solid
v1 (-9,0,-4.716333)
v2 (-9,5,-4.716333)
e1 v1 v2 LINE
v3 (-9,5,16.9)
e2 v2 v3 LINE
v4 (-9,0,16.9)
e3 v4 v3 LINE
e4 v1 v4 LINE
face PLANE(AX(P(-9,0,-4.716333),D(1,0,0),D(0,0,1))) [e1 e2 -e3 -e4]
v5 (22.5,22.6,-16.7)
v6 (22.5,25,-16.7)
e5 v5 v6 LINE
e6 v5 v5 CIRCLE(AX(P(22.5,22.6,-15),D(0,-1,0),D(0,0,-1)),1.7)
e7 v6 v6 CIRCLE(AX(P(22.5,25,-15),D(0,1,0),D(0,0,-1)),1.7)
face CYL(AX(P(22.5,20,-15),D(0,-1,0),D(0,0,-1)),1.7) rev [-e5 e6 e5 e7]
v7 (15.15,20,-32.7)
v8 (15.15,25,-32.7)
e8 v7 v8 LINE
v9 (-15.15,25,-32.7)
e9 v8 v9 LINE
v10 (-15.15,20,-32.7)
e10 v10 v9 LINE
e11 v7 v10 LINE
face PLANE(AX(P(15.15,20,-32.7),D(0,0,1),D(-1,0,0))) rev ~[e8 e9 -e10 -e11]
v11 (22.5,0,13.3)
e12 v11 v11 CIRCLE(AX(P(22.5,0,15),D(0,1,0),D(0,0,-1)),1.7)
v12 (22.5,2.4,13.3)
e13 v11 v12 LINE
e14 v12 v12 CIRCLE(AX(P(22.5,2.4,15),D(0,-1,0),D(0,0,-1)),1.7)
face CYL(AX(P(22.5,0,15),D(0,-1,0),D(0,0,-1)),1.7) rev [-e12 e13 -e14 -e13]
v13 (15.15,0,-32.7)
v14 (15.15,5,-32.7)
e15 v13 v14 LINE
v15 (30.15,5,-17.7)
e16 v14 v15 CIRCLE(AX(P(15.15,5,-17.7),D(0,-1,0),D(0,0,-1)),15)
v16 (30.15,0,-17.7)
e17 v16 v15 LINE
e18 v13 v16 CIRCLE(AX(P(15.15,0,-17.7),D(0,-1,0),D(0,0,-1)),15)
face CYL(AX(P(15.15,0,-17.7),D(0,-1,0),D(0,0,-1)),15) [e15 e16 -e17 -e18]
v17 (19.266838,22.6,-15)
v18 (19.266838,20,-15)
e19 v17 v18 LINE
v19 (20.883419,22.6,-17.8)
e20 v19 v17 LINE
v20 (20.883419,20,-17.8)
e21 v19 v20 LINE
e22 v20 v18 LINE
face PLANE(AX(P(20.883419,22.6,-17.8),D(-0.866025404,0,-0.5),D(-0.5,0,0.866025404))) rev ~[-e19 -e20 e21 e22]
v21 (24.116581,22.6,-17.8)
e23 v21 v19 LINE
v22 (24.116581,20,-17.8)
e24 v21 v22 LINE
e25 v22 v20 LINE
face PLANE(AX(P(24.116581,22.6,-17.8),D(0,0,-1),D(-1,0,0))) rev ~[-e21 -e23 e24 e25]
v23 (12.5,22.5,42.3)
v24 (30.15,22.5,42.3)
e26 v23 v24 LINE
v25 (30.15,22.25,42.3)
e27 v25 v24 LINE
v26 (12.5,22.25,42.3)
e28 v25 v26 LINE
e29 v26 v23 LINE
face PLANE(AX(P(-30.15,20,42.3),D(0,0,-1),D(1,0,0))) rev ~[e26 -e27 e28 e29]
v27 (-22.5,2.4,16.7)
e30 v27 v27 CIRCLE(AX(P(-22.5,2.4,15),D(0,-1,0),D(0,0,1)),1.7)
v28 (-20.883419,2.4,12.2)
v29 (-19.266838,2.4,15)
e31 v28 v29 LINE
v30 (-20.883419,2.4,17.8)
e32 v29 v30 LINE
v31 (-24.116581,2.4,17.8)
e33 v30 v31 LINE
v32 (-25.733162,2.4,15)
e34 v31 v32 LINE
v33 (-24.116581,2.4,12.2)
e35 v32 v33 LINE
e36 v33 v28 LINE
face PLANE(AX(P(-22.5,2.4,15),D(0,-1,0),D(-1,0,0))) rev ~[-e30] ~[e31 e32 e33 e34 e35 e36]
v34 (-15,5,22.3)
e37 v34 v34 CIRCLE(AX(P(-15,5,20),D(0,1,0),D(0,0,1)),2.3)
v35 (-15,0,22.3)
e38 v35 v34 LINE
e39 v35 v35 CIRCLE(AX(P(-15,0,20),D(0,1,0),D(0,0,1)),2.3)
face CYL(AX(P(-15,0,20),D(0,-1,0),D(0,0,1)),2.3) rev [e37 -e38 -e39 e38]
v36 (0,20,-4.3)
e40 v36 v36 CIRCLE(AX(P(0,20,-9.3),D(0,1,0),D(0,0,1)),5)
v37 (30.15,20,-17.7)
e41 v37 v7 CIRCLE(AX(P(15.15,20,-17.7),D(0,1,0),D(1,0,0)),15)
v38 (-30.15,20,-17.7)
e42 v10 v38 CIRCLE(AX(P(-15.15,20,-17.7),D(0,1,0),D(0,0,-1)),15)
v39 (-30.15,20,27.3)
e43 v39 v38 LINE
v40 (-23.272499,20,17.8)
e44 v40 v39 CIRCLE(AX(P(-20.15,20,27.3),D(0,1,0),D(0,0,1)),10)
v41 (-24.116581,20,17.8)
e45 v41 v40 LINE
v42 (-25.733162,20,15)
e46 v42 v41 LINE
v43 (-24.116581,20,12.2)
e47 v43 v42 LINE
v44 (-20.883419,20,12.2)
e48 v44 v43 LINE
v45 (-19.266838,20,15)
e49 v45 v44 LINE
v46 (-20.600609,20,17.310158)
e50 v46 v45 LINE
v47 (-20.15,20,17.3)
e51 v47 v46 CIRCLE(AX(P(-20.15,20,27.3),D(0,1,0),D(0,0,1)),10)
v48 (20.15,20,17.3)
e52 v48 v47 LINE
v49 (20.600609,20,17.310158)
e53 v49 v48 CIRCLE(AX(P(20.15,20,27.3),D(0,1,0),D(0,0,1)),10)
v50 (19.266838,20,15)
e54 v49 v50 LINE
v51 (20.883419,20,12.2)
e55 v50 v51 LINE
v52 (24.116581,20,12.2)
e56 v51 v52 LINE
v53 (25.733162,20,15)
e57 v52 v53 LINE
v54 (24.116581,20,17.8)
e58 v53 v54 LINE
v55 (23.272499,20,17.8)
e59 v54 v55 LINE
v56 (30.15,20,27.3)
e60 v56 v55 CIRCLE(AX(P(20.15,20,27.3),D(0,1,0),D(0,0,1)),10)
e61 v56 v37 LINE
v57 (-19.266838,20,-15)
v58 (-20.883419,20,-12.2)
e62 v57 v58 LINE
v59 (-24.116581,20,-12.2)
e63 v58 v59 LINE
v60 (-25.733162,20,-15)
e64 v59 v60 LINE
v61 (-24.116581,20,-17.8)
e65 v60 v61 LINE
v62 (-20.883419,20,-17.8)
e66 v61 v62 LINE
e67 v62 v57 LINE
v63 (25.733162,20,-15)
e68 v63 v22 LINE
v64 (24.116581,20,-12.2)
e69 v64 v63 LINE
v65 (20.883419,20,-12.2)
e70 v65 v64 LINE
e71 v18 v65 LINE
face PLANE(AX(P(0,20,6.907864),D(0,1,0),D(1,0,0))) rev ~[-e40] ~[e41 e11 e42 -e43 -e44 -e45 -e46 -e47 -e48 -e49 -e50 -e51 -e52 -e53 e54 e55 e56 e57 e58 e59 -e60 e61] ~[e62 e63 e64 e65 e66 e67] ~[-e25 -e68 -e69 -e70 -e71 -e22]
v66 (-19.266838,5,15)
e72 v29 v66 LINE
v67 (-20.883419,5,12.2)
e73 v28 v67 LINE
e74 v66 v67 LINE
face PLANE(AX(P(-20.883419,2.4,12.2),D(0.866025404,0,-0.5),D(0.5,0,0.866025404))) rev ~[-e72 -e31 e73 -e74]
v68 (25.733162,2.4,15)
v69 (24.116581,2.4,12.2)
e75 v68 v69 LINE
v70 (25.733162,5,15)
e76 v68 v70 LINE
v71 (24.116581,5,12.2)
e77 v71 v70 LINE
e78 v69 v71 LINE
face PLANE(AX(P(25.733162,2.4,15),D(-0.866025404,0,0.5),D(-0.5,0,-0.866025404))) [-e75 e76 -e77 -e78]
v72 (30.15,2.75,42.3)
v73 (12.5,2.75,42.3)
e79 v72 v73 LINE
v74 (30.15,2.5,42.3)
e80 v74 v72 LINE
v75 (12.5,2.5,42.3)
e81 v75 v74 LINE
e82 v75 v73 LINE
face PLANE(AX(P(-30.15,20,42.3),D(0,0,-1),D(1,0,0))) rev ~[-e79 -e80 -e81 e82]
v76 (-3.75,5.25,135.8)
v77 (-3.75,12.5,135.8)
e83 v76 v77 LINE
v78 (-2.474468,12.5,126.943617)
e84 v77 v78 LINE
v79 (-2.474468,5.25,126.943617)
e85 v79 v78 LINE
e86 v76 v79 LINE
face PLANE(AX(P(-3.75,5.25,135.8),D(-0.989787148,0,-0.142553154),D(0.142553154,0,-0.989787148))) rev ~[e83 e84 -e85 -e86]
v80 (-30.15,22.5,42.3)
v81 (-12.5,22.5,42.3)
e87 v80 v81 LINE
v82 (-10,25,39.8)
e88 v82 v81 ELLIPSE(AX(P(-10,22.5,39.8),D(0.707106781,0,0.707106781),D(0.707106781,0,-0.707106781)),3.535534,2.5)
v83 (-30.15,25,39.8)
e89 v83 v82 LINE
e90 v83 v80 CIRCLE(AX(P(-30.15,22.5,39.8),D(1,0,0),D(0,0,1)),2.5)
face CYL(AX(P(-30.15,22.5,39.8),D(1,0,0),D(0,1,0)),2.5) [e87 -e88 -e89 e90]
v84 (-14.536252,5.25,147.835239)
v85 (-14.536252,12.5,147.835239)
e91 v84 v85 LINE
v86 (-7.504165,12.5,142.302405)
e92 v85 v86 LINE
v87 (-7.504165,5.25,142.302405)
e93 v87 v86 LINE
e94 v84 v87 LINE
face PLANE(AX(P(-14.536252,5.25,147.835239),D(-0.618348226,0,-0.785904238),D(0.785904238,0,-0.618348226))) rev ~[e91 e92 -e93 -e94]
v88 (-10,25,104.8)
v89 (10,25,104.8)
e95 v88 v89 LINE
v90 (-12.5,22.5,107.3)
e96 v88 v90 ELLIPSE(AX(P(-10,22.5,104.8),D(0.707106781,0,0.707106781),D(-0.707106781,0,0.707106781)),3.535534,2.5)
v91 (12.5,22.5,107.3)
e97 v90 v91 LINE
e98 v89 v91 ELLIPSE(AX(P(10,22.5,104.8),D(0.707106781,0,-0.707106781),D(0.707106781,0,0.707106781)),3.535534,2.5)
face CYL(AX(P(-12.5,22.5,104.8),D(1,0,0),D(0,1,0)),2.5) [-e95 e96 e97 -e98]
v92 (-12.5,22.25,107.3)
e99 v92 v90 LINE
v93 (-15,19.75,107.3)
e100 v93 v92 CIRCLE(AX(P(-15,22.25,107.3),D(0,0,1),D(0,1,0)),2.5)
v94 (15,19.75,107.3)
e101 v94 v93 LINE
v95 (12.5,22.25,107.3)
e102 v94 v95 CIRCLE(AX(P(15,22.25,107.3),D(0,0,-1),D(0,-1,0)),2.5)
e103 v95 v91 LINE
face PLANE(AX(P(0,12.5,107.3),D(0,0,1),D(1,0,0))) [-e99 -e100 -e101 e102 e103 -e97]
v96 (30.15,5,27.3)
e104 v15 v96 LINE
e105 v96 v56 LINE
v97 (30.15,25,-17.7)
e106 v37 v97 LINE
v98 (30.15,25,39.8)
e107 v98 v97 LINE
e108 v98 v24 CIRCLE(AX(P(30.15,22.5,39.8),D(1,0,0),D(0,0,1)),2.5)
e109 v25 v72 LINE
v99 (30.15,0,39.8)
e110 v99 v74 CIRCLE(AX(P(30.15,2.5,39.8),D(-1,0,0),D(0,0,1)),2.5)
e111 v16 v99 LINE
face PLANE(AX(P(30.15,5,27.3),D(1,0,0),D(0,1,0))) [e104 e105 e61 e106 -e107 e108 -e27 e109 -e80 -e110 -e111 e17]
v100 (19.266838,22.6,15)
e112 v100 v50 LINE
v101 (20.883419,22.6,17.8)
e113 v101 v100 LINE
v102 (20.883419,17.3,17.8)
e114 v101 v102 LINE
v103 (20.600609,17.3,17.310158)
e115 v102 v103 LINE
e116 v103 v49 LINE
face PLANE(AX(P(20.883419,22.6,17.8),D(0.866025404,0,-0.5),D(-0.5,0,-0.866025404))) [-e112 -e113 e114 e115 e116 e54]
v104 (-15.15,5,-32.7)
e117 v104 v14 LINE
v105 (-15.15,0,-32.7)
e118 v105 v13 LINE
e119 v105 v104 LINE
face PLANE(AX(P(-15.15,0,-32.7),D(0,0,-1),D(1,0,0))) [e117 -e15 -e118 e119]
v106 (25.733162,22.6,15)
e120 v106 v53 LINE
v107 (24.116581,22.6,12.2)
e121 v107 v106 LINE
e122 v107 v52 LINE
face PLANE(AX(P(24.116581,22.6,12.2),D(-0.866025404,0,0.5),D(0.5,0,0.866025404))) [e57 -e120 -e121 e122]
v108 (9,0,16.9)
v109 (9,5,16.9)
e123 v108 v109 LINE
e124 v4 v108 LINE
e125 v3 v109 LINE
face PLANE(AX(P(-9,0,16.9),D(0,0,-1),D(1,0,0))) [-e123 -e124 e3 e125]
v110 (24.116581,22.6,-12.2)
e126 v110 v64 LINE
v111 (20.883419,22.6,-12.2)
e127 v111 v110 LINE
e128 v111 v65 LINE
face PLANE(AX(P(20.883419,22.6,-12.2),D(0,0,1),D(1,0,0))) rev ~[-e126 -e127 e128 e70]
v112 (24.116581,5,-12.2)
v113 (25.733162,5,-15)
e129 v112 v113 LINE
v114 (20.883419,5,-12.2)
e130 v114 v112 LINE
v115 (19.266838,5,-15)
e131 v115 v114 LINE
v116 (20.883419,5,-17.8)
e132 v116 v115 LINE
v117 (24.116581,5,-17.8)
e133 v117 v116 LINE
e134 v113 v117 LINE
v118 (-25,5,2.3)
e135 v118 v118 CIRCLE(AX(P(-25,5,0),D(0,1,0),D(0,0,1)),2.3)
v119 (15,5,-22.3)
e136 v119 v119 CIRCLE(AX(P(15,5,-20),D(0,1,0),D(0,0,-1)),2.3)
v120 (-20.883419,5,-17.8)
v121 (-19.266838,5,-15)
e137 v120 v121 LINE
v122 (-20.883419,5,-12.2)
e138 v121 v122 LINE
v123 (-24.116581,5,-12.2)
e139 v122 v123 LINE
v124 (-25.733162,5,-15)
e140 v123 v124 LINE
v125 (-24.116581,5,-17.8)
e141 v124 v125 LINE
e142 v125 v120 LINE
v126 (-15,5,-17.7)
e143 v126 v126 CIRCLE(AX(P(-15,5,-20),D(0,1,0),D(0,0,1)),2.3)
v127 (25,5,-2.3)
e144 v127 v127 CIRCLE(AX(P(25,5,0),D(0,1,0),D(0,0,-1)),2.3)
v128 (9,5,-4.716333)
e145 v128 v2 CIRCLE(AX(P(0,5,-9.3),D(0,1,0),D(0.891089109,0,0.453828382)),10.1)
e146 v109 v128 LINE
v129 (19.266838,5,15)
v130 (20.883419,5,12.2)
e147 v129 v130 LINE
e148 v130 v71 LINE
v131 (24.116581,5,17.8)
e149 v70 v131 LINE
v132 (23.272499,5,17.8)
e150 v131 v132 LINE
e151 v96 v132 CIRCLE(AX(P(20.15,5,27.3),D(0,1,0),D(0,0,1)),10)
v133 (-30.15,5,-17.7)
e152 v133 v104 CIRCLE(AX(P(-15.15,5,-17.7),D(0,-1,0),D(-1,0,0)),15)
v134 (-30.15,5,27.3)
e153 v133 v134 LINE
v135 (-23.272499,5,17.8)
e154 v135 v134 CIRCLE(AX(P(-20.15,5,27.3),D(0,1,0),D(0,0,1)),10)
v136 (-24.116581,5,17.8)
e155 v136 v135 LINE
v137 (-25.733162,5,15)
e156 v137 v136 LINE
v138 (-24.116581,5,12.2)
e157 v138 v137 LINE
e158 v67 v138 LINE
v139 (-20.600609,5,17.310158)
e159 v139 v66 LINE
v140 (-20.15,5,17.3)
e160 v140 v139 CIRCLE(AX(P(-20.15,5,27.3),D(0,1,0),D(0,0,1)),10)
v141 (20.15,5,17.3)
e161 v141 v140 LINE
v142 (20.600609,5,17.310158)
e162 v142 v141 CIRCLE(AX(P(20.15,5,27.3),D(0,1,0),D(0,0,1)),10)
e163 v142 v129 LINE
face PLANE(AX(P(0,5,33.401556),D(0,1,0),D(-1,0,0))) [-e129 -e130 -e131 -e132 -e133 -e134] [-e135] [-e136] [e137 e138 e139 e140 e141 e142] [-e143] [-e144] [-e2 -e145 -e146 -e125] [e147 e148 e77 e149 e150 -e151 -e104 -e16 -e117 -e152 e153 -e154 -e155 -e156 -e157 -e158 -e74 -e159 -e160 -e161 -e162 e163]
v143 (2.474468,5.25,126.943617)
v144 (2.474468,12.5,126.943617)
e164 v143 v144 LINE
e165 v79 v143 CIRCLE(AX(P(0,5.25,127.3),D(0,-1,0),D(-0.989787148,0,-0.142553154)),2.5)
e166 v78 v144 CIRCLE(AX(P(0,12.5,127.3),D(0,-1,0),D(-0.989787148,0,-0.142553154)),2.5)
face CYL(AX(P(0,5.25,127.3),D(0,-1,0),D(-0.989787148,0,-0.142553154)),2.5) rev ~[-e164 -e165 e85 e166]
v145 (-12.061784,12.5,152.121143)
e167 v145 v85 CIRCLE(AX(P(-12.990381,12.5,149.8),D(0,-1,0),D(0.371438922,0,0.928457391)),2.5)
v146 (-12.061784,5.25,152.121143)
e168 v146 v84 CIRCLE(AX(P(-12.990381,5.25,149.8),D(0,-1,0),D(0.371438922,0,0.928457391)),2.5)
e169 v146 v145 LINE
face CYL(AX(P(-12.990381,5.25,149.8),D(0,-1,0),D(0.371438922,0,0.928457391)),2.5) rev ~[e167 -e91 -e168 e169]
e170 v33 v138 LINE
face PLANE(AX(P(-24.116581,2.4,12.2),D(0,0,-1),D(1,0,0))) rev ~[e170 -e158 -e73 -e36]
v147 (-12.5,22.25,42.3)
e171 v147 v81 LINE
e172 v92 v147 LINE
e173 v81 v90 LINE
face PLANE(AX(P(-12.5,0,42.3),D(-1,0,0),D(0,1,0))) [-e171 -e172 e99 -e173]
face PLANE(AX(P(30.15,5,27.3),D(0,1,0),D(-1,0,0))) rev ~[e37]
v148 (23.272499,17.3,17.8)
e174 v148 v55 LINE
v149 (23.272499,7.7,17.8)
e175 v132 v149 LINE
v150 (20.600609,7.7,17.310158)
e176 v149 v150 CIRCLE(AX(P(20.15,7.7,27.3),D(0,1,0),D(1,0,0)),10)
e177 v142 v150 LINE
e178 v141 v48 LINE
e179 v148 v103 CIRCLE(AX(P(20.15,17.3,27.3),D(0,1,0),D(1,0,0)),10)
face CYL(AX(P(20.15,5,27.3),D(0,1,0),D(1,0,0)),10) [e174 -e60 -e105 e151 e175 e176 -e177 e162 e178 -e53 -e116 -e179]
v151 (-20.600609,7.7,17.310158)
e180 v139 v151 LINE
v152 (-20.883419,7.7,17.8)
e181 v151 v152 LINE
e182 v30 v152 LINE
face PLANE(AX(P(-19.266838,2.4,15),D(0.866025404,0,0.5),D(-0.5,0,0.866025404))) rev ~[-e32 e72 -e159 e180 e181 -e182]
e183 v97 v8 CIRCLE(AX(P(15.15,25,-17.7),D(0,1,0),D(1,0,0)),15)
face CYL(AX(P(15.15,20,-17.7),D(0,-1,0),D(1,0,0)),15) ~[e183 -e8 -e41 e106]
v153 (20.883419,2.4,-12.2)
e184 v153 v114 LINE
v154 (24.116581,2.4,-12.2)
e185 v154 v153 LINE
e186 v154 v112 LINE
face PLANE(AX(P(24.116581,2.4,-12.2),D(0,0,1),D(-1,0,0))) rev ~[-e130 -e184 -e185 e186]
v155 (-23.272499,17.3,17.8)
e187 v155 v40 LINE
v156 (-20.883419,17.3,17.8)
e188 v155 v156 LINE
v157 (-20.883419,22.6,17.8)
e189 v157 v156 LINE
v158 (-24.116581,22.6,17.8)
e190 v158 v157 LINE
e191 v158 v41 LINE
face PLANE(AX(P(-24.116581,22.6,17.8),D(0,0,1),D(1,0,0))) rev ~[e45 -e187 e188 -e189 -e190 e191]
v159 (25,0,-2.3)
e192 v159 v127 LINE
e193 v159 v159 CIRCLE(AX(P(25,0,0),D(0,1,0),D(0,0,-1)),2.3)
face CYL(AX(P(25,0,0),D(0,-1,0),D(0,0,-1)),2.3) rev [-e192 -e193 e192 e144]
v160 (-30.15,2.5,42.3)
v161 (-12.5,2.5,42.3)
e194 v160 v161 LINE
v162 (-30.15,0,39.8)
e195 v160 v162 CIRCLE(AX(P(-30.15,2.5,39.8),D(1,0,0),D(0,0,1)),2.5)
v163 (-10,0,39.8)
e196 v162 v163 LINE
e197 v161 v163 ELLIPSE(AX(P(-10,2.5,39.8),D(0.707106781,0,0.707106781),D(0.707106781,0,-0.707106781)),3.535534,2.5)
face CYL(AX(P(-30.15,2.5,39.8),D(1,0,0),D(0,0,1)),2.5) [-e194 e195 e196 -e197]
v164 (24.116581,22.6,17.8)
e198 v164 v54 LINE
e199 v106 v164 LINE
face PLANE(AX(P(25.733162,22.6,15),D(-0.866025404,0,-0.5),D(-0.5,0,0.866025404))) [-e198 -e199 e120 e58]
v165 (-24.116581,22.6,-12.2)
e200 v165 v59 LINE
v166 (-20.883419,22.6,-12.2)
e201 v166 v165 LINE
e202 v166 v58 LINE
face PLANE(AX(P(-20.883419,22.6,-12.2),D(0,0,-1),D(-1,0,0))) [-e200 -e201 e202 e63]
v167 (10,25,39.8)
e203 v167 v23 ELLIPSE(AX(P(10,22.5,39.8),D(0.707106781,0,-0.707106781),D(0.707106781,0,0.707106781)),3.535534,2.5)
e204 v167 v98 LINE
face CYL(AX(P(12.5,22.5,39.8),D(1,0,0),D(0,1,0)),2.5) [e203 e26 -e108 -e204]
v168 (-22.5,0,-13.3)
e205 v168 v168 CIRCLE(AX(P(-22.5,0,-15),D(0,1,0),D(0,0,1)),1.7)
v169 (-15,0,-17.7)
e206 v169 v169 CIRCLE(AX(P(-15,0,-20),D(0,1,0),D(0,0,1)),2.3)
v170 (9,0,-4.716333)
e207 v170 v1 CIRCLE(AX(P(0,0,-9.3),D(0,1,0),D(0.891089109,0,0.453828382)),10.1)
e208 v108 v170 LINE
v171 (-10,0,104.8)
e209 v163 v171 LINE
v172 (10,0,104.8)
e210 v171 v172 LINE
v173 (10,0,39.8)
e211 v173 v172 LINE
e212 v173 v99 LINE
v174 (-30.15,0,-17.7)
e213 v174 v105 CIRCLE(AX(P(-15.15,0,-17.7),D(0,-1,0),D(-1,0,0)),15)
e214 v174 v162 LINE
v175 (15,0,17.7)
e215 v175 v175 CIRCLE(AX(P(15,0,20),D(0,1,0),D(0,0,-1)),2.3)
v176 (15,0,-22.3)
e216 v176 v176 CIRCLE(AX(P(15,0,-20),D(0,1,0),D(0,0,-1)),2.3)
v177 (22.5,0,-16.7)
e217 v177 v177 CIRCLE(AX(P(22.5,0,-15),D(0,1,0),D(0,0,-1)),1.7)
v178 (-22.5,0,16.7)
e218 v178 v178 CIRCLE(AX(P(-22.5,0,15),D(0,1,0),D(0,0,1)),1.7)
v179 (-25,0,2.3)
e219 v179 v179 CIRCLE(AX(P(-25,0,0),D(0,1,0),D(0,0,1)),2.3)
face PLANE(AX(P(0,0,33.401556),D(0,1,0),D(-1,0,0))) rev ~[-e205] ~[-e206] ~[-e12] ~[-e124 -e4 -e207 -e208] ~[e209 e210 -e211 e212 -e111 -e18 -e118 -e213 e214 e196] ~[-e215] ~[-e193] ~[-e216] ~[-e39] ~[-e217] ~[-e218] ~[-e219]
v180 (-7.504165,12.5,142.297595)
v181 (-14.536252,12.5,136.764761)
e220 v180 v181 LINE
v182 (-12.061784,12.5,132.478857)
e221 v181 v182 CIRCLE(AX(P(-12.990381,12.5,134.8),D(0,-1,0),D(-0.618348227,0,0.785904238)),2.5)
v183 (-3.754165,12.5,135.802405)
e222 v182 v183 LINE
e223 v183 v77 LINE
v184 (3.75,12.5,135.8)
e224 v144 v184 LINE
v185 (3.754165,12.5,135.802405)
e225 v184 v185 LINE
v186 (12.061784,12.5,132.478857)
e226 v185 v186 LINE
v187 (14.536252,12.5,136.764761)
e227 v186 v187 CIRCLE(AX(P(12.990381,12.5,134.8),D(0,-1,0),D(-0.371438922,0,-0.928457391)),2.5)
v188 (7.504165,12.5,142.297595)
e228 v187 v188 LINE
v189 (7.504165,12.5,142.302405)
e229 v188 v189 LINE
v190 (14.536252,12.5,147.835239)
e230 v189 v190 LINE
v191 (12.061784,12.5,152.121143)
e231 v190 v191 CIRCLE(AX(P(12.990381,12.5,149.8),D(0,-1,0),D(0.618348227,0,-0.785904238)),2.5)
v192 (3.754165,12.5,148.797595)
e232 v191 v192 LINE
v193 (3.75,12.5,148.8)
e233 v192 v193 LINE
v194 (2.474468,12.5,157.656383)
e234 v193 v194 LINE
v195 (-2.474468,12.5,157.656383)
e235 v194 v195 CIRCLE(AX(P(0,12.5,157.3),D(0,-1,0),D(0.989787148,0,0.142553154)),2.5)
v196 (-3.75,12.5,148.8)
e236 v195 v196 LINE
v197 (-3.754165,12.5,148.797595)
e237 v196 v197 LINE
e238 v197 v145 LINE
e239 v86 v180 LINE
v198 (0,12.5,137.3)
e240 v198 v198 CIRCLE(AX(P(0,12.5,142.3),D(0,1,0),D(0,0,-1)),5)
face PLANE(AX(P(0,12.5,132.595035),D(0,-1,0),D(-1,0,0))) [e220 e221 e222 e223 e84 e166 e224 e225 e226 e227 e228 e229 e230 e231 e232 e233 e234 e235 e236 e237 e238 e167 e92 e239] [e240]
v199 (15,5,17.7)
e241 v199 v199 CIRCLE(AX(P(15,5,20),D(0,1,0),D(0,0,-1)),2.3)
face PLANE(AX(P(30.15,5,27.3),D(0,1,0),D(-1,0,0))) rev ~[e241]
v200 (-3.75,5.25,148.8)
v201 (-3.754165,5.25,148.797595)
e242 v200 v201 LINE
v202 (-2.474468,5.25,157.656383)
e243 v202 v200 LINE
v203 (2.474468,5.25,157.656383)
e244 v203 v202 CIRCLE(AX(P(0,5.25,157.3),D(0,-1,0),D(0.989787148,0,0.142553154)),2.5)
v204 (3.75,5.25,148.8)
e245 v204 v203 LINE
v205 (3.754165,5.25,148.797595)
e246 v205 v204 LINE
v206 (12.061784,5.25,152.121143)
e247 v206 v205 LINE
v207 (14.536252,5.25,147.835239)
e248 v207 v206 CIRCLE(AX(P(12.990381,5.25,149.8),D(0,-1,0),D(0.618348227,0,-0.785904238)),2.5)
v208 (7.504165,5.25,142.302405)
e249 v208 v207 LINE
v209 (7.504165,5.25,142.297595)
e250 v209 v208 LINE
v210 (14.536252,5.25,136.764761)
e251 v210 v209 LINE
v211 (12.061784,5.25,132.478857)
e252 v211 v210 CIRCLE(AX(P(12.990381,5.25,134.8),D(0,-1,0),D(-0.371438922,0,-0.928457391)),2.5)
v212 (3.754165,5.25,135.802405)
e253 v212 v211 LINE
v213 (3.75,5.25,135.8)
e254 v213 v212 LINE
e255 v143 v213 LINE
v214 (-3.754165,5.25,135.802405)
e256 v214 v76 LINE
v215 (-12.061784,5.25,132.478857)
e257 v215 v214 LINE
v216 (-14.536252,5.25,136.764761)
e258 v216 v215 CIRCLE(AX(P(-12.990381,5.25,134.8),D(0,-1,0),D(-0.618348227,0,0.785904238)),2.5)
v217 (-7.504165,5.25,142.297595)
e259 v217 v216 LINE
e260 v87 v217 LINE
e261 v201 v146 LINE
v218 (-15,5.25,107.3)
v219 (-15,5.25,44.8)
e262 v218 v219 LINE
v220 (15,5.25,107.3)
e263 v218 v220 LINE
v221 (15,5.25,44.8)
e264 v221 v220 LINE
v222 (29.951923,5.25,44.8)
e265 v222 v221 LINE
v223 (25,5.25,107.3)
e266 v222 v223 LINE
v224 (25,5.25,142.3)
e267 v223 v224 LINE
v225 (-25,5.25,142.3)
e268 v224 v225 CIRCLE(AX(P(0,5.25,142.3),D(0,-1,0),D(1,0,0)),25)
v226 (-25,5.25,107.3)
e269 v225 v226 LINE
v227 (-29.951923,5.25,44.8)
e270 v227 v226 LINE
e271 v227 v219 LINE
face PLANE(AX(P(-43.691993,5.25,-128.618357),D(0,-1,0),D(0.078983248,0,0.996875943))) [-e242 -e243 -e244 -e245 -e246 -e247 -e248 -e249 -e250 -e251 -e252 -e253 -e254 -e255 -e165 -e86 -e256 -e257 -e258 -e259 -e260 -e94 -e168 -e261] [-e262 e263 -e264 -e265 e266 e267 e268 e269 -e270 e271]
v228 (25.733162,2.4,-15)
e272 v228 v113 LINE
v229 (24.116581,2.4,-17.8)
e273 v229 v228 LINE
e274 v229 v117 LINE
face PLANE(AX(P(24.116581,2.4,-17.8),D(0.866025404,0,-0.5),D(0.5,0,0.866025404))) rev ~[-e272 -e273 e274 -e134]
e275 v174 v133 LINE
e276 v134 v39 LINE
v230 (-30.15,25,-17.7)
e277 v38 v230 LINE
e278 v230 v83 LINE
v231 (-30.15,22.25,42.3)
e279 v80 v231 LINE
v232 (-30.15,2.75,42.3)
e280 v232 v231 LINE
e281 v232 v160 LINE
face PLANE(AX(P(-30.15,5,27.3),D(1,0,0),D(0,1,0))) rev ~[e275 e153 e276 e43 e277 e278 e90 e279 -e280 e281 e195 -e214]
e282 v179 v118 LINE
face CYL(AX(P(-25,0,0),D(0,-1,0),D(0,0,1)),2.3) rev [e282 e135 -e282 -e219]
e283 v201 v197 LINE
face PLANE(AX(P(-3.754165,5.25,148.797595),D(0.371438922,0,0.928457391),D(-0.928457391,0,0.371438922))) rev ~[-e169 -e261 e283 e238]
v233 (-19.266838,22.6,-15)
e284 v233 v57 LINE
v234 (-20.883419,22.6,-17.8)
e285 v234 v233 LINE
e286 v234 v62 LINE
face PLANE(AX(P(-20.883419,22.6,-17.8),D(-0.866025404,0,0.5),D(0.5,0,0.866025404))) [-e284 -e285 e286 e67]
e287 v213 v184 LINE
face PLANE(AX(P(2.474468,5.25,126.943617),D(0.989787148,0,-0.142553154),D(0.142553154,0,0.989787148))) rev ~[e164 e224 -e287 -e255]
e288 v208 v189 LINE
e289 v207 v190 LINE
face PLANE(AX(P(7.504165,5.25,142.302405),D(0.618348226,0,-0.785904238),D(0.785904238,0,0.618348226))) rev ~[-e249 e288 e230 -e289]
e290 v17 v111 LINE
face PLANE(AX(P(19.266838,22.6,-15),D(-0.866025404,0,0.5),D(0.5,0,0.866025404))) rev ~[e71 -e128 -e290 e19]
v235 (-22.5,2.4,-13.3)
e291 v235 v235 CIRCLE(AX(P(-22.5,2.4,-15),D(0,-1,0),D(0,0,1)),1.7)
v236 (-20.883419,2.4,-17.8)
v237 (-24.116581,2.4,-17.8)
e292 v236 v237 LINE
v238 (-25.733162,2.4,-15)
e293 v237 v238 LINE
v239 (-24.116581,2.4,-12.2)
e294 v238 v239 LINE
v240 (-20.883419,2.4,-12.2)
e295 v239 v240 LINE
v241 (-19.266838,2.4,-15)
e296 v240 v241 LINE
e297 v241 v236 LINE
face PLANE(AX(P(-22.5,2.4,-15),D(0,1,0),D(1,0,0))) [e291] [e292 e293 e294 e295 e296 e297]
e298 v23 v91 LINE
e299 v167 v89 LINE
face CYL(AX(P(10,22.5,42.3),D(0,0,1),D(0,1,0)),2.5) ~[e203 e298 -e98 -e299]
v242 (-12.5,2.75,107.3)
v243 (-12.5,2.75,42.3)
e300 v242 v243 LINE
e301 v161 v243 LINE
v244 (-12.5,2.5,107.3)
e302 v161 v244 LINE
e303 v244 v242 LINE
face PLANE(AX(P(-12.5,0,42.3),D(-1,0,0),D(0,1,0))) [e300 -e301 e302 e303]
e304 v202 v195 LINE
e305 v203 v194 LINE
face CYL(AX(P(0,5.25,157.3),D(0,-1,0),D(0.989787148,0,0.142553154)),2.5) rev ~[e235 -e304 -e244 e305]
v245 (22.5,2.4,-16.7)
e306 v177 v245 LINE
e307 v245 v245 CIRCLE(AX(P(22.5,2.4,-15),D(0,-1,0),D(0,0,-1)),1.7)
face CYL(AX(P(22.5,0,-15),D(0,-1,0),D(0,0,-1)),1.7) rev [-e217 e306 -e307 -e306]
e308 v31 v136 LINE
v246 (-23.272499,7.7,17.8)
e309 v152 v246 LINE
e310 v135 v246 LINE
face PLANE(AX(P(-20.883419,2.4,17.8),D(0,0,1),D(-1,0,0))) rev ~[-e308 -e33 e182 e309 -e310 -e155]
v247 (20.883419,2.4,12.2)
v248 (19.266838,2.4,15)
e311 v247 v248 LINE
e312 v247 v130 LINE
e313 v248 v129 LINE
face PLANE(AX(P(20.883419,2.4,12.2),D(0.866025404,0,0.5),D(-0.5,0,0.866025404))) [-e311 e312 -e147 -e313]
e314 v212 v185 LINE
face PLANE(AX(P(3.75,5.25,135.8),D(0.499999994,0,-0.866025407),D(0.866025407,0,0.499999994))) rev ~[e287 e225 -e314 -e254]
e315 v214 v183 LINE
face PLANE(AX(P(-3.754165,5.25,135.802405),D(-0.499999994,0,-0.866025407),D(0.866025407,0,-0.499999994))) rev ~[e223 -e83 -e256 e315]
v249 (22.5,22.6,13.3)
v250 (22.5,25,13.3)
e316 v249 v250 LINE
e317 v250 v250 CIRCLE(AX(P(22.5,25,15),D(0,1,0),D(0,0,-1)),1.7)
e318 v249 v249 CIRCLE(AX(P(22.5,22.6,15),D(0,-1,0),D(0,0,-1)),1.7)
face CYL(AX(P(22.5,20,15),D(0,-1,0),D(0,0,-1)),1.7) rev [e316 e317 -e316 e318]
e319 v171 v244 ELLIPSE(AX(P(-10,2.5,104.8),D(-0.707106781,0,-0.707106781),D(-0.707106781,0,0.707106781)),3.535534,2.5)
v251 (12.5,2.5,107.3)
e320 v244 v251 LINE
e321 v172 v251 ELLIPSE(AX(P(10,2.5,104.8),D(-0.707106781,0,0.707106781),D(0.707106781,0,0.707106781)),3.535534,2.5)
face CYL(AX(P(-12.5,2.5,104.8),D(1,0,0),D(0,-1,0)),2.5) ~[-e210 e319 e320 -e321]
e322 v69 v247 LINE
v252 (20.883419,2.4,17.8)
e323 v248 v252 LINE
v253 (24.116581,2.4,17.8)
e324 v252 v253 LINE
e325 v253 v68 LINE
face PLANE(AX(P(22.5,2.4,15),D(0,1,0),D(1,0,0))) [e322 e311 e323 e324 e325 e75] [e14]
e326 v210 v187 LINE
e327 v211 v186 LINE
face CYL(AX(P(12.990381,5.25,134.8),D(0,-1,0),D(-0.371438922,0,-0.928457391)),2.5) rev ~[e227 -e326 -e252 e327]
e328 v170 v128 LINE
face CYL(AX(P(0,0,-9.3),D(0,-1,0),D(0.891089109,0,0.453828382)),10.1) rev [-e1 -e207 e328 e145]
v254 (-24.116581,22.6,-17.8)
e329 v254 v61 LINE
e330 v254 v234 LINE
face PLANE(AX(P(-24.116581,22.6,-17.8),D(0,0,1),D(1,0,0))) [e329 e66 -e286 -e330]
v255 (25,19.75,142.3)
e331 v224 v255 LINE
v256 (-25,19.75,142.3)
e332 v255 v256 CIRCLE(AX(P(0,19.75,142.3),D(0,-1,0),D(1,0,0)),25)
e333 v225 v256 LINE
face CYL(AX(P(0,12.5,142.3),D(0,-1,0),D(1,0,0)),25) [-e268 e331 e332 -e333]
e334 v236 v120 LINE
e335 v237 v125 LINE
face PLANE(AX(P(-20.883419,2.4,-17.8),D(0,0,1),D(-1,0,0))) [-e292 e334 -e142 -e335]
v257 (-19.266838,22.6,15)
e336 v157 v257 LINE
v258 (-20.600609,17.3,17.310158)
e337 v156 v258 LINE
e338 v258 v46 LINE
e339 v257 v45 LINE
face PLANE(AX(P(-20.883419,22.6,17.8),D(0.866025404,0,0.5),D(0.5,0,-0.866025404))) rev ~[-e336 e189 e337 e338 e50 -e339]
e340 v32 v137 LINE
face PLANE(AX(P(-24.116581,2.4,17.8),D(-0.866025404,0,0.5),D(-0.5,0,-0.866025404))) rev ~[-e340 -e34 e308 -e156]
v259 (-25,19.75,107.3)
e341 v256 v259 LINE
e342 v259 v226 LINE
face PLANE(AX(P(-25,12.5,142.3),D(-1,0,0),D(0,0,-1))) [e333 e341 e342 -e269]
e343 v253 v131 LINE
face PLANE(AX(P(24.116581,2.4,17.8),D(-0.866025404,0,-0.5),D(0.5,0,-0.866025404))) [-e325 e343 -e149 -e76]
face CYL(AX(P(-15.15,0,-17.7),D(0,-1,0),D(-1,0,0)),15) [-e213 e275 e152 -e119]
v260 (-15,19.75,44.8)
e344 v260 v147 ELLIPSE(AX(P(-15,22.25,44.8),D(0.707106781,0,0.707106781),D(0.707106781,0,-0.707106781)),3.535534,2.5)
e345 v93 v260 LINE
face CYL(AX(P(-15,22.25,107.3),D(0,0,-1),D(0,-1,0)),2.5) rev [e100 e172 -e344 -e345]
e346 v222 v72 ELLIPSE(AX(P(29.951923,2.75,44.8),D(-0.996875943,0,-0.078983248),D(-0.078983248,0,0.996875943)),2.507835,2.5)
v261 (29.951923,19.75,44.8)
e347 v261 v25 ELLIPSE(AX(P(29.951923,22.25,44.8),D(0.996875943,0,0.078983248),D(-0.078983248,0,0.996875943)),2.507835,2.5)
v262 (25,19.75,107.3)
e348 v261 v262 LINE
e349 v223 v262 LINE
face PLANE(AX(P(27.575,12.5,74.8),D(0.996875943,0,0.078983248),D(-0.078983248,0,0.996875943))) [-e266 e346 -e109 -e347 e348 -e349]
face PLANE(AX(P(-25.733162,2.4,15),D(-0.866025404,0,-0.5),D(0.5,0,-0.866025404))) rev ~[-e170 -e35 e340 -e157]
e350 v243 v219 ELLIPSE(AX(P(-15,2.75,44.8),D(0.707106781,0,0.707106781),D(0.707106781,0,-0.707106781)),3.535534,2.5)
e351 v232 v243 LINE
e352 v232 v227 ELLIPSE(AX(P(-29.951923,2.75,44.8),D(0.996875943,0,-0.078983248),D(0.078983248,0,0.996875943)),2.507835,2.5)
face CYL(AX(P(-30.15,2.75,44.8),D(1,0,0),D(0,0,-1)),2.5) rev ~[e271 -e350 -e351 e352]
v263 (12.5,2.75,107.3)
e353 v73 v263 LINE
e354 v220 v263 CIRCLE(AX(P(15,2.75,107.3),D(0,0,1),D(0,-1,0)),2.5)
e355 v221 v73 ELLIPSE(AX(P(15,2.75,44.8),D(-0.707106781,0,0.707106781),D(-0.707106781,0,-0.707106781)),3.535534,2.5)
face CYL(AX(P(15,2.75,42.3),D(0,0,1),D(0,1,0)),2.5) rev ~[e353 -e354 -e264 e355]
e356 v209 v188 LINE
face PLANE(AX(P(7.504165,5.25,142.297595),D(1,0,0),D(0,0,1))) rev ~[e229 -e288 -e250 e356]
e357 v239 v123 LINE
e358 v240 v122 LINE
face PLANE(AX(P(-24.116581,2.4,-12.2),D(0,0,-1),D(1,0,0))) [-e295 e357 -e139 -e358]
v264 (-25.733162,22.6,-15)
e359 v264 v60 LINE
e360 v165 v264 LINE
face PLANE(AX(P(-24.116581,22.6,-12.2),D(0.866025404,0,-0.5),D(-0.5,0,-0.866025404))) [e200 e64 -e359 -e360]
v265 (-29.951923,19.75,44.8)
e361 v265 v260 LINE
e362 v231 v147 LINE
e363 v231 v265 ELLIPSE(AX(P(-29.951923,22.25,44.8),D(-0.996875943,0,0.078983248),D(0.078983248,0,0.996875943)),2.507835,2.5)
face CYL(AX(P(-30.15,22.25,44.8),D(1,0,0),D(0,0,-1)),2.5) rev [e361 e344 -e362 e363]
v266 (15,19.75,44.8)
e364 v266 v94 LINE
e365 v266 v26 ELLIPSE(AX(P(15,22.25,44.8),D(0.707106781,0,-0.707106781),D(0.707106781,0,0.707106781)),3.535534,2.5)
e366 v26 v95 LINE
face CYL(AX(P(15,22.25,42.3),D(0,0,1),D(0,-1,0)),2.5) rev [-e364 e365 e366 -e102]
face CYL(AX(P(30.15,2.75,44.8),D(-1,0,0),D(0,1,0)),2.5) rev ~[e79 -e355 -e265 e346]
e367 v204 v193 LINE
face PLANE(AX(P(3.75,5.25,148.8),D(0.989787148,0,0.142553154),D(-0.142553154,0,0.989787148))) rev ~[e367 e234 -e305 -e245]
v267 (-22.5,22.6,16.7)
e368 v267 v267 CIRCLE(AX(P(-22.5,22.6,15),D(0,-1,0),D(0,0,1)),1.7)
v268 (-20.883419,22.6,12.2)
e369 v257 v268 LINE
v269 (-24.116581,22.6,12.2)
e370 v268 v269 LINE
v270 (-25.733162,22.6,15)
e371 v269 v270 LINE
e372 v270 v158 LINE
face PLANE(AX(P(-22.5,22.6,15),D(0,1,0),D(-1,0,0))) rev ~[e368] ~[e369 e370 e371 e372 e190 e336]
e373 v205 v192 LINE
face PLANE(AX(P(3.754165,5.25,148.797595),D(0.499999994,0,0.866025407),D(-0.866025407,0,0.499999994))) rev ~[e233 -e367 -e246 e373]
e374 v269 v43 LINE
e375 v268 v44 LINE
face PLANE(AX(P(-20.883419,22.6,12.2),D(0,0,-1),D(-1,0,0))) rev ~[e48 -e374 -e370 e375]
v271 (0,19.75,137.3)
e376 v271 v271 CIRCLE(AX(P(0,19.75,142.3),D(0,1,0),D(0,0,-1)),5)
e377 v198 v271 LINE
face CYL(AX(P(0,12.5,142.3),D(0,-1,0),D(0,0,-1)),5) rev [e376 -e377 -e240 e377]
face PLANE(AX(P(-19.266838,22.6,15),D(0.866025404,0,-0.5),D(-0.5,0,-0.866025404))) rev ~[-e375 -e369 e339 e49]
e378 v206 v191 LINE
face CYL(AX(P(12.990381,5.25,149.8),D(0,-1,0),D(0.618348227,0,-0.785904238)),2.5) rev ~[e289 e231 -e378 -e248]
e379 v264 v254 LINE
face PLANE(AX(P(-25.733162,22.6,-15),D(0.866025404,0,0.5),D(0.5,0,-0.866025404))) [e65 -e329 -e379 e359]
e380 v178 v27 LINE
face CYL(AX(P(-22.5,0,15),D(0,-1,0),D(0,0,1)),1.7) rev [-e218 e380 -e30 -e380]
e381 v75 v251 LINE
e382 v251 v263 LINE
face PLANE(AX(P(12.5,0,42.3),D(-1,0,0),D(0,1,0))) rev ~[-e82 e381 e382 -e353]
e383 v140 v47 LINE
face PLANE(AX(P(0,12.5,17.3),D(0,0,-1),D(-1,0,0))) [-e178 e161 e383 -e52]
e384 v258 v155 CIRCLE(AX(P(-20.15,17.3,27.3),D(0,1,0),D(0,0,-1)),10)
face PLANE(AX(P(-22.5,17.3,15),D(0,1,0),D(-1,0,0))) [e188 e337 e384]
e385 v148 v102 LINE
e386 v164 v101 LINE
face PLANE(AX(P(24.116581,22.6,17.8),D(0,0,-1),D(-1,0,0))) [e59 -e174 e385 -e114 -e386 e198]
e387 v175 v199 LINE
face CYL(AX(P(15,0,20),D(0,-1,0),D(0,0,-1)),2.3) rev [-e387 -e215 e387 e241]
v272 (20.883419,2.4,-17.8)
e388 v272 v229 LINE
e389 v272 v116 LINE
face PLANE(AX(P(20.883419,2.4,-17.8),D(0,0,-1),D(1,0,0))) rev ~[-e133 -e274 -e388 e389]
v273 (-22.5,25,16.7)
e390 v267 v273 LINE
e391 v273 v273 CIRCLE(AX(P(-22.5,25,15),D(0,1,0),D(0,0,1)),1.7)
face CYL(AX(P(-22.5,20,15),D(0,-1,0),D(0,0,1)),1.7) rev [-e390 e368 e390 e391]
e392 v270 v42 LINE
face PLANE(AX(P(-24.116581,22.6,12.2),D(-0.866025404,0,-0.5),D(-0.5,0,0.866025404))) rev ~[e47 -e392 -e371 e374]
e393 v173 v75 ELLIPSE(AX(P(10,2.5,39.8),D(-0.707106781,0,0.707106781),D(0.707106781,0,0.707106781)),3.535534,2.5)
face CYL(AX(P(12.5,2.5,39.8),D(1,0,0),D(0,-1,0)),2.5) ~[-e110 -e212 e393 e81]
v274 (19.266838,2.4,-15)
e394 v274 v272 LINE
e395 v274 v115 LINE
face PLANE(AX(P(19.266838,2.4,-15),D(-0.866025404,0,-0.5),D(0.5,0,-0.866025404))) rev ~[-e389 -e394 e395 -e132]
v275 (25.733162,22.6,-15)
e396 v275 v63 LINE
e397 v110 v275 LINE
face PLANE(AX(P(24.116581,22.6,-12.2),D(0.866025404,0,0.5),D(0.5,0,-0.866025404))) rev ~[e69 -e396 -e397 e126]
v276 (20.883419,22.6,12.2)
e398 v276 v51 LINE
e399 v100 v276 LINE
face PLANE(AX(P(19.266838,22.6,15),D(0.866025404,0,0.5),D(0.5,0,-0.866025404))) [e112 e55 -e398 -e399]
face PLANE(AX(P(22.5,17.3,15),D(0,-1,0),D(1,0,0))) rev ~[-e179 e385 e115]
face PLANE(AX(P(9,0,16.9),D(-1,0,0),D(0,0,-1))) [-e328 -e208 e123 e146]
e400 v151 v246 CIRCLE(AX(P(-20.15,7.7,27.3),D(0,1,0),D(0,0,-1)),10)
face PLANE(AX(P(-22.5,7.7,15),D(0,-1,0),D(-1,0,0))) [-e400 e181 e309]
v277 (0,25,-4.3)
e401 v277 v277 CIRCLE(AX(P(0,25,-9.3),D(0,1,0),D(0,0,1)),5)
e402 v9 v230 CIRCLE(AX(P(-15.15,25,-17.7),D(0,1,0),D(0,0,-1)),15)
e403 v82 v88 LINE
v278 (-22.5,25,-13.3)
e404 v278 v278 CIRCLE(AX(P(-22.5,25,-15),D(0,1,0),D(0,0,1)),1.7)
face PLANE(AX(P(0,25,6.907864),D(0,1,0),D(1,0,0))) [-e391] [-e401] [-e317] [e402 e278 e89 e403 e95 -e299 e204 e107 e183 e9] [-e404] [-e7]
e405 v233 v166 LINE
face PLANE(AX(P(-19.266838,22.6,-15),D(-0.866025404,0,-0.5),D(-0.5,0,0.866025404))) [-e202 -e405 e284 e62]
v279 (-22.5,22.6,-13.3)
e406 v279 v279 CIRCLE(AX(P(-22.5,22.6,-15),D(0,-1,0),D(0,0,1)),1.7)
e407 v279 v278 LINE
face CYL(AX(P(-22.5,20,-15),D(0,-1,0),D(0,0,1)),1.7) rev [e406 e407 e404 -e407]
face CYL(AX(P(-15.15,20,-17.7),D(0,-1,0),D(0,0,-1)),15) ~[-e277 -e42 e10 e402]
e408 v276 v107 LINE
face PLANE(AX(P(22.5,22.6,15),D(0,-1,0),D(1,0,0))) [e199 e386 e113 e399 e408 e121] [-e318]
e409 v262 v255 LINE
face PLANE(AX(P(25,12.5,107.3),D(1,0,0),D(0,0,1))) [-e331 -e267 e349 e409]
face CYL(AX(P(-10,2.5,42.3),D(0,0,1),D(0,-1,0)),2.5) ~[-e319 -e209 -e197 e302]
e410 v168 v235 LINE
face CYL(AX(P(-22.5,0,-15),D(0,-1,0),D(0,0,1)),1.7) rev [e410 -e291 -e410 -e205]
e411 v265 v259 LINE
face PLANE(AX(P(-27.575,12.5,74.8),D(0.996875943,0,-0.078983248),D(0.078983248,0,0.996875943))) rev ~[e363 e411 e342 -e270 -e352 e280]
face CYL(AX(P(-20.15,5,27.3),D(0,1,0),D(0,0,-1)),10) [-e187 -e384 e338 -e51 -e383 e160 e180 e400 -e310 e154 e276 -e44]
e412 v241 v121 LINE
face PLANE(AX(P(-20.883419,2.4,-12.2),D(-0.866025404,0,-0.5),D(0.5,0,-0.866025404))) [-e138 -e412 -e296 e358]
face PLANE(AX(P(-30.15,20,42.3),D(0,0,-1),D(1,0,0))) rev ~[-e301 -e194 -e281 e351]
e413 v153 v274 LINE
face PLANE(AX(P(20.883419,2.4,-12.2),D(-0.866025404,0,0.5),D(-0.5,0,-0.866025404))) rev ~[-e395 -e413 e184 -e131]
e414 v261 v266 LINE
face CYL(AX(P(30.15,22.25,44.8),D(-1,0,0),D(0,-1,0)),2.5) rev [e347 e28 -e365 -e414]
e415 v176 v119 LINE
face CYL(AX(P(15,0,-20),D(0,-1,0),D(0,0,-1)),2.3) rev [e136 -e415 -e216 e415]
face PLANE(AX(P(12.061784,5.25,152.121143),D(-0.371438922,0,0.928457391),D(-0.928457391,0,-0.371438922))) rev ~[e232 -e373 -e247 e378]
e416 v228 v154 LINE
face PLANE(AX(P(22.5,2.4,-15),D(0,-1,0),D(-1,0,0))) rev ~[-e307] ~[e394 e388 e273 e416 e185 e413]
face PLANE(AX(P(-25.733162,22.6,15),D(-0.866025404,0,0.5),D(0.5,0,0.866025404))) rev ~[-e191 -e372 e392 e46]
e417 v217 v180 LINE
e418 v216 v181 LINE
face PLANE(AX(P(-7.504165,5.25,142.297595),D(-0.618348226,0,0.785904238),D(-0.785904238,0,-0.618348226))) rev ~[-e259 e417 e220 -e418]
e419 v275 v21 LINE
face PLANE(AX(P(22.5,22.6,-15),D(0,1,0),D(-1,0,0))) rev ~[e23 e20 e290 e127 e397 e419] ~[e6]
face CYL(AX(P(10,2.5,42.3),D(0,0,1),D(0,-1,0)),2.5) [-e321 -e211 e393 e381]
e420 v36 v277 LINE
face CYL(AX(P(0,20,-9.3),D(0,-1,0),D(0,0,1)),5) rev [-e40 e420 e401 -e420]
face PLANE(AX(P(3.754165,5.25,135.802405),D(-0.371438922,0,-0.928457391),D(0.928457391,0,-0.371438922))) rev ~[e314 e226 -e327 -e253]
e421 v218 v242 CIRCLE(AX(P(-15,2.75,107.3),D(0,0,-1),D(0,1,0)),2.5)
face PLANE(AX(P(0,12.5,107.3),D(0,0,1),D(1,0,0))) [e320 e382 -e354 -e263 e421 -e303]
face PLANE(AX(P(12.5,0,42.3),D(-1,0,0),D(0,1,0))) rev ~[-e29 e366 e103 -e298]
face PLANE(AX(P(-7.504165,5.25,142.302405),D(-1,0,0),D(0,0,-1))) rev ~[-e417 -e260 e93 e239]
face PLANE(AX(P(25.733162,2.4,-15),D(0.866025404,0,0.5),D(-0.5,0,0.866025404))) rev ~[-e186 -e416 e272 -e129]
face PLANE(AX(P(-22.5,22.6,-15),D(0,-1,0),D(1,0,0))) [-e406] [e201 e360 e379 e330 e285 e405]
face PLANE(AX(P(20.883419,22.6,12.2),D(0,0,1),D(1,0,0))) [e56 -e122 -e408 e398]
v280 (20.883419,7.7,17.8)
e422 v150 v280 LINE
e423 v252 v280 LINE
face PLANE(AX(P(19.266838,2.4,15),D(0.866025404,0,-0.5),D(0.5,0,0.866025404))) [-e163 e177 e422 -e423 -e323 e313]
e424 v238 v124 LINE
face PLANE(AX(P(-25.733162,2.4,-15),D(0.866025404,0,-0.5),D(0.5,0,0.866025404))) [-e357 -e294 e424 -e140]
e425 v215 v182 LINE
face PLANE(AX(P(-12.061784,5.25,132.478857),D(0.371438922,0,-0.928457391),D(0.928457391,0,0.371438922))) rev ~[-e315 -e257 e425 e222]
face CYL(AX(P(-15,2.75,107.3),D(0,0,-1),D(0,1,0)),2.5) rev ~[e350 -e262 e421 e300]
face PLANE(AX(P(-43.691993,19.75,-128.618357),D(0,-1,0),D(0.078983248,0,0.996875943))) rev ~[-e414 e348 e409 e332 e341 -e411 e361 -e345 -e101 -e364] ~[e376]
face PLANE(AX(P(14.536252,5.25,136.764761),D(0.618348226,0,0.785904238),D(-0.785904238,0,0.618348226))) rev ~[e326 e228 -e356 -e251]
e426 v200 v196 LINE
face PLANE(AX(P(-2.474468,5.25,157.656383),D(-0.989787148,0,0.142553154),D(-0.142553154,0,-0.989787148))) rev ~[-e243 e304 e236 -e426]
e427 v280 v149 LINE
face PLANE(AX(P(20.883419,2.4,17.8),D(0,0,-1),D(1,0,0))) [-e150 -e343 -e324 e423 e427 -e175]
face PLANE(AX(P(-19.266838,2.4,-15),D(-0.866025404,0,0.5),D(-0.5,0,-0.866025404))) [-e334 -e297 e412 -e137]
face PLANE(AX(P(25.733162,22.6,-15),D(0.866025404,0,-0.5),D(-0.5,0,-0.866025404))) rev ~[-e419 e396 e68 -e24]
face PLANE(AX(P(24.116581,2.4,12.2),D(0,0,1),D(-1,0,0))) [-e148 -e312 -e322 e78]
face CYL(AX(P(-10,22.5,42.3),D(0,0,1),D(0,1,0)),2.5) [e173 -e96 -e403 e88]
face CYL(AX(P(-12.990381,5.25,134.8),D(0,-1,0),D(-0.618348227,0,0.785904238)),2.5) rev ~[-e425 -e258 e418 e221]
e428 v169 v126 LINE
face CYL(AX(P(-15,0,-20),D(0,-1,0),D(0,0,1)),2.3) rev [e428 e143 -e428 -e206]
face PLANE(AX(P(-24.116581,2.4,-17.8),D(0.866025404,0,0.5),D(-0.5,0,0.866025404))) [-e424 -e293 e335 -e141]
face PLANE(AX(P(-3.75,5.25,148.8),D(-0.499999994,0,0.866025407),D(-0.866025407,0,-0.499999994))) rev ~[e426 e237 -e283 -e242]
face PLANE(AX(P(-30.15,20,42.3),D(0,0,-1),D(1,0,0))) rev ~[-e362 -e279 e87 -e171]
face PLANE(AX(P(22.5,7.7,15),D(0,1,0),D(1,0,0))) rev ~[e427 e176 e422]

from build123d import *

# Parameters (mm, degrees)
SKETCH2_R               = 2.3
SKETCH2_R_2             = 1.7
BOSS_EXTRUDE1_DEPTH     = 5
BOSS_EXTRUDE2_DEPTH     = 5
SKETCH4_W               = 60.3
SKETCH4_H               = 15
BOSS_EXTRUDE3_DEPTH     = 15
SKETCH5_R               = 1.7
SKETCH5_R_2             = 5
BOSS_EXTRUDE4_DEPTH     = 5
SKETCH6_W               = 60.3
SKETCH6_H               = 15
BOSS_EXTRUDE5_DEPTH     = 10
FILLET1_R               = 10
CUT_EXTRUDE1_DEPTH      = 2.7
CUT_EXTRUDE1_DEPTH_BACK = 2.6
CUT_EXTRUDE2_DEPTH      = 2.7
CUT_EXTRUDE2_DEPTH_BACK = 2.6
SKETCH9_W               = 25
SKETCH9_H               = 25
BOSS_EXTRUDE6_DEPTH     = 65
BOSS_EXTRUDE7_DEPTH     = 7.25
SKETCH12_R              = 5
BOSS_EXTRUDE8_DEPTH     = 7.25
RIB1_REACH              = 172.454
SKETCH13_WALL_W         = 408.111678834
SKETCH13_WALL_H         = 14.5
RIB2_REACH              = 172.454
SKETCH14_WALL_W         = 408.111678834
SKETCH14_WALL_H         = 14.5
FILLET2_R               = 2.5
FILLET3_R               = 2.5


with BuildPart() as part:
    # Sketch2 → Boss-Extrude1 (new body)
    with BuildSketch(Plane(origin=(0, 0, 0), x_dir=(1, 0, 0), z_dir=(0, 1, 0))):
        with BuildLine():
            Line((15.15, -32.7), (-15.15, -32.7))
            ThreePointArc((-15.15, -32.7), (-25.756601718, -28.306601718), (-30.15, -17.7))
            Line((-30.15, -17.7), (-30.15, 17.7))
            ThreePointArc((-30.15, 17.7), (-25.756601718, 28.306601718), (-15.15, 32.7))
            Line((-15.15, 32.7), (15.15, 32.7))
            ThreePointArc((15.15, 32.7), (25.756601718, 28.306601718), (30.15, 17.7))
            Line((30.15, 17.7), (30.15, -17.7))
            ThreePointArc((30.15, -17.7), (25.756601718, -28.306601718), (15.15, -32.7))
        make_face()
        with Locations(Location((-15, 20, 0), (0, 0, 270))):
            Circle(SKETCH2_R, mode=Mode.SUBTRACT)
        with Locations(Location((-25, 0, 0), (0, 0, 270))):
            Circle(SKETCH2_R, mode=Mode.SUBTRACT)
        with Locations(Location((-15, -20, 0), (0, 0, 270))):
            Circle(SKETCH2_R, mode=Mode.SUBTRACT)
        with Locations(Location((-22.5, -15, 0), (0, 0, 270))):
            Circle(SKETCH2_R_2, mode=Mode.SUBTRACT)
        with Locations(Location((-22.5, 15, 0), (0, 0, 270))):
            Circle(SKETCH2_R_2, mode=Mode.SUBTRACT)
        with Locations(Location((15, 20, 0), (0, 0, 90))):
            Circle(SKETCH2_R, mode=Mode.SUBTRACT)
        with Locations(Location((22.5, 15, 0), (0, 0, 90))):
            Circle(SKETCH2_R_2, mode=Mode.SUBTRACT)
        with Locations(Location((25, 0, 0), (0, 0, 90))):
            Circle(SKETCH2_R, mode=Mode.SUBTRACT)
        with Locations(Location((22.5, -15, 0), (0, 0, 90))):
            Circle(SKETCH2_R_2, mode=Mode.SUBTRACT)
        with Locations(Location((15, -20, 0), (0, 0, 90))):
            Circle(SKETCH2_R, mode=Mode.SUBTRACT)
        with BuildLine():
            Line((-9, 4.716333345), (-9, -16.9))
            Line((-9, -16.9), (9, -16.9))
            Line((9, -16.9), (9, 4.716333345))
            ThreePointArc((9, 4.716333345), (0, 19.4), (-9, 4.716333345))
        make_face(mode=Mode.SUBTRACT)
    extrude(amount=BOSS_EXTRUDE1_DEPTH)

    # Sketch3 → Boss-Extrude2 (add)
    with BuildSketch(Plane.XZ):
        Polygon((-30.15, 17.7), (-30.15, 42.3), (30.15, 42.3), (30.15, 17.7), (15.15, 32.7), (-15.15, 32.7), align=None)
    extrude(amount=-BOSS_EXTRUDE2_DEPTH)

    # Sketch4 → Boss-Extrude3 (add)
    with BuildSketch(Plane(origin=(0, 5, 0), x_dir=(1, 0, 0), z_dir=(0, 1, 0))):
        with Locations((0, -34.8)):
            Rectangle(SKETCH4_W, SKETCH4_H)
    extrude(amount=BOSS_EXTRUDE3_DEPTH)

    # Sketch5 → Boss-Extrude4 (add)
    with BuildSketch(Plane(origin=(0, 20, 0), x_dir=(1, 0, 0), z_dir=(0, 1, 0))):
        with BuildLine():
            Line((-30.15, -42.3), (30.15, -42.3))
            Line((30.15, -42.3), (30.15, 17.7))
            ThreePointArc((30.15, 17.7), (25.756601718, 28.306601718), (15.15, 32.7))
            Line((15.15, 32.7), (-15.15, 32.7))
            ThreePointArc((-15.15, 32.7), (-25.756601718, 28.306601718), (-30.15, 17.7))
            Line((-30.15, 17.7), (-30.15, -42.3))
        make_face()
        with Locations(Location((-22.5, 15, 0), (0, 0, 270))):
            Circle(SKETCH5_R, mode=Mode.SUBTRACT)
        with Locations(Location((-22.5, -15, 0), (0, 0, 270))):
            Circle(SKETCH5_R, mode=Mode.SUBTRACT)
        with Locations(Location((22.5, 15, 0), (0, 0, 90))):
            Circle(SKETCH5_R, mode=Mode.SUBTRACT)
        with Locations(Location((22.5, -15, 0), (0, 0, 90))):
            Circle(SKETCH5_R, mode=Mode.SUBTRACT)
        with Locations(Location((0, 9.3, 0), (0, 0, 270))):
            Circle(SKETCH5_R_2, mode=Mode.SUBTRACT)
    extrude(amount=BOSS_EXTRUDE4_DEPTH)

    # Sketch6 → Boss-Extrude5 (add)
    with BuildSketch(Plane(origin=(0, 0, 27.3), x_dir=(-1, 0, 0), z_dir=(0, 0, -1))):
        with Locations((0, 12.5)):
            Rectangle(SKETCH6_W, SKETCH6_H)
    extrude(amount=BOSS_EXTRUDE5_DEPTH)

    # Fillet1
    fillet1_edges = [part.edges().sort_by_distance(p)[0] for p in [
        (30.15, 12.5, 17.3),
        (-30.15, 12.5, 17.3),
    ]]
    fillet(fillet1_edges, radius=FILLET1_R)

    # Sketch7 → Cut-Extrude1 (cut, two sides: drawn at the far end of the back side and taken through both)
    with BuildSketch(Plane(origin=(0, 5, 0), x_dir=(1, 0, 0), z_dir=(0, 1, 0)).offset(-CUT_EXTRUDE1_DEPTH_BACK)):
        Polygon((25.733161507, -15), (24.116580754, -12.2), (20.883419246, -12.2), (19.266838493, -15), (20.883419246, -17.8), (24.116580754, -17.8), align=None)
        Polygon((-24.116580754, -17.8), (-25.733161507, -15), (-24.116580754, -12.2), (-20.883419246, -12.2), (-19.266838493, -15), (-20.883419246, -17.8), align=None)
        Polygon((-19.266838493, 15), (-20.883419246, 17.8), (-24.116580754, 17.8), (-25.733161507, 15), (-24.116580754, 12.2), (-20.883419246, 12.2), align=None)
        Polygon((24.116580754, 17.8), (25.733161507, 15), (24.116580754, 12.2), (20.883419246, 12.2), (19.266838493, 15), (20.883419246, 17.8), align=None)
    extrude(amount=CUT_EXTRUDE1_DEPTH + CUT_EXTRUDE1_DEPTH_BACK, mode=Mode.SUBTRACT)

    # Sketch8 → Cut-Extrude2 (cut, two sides: drawn at the far end of the back side and taken through both)
    with BuildSketch(Plane.XZ.offset(-20).offset(-CUT_EXTRUDE2_DEPTH_BACK)):
        Polygon((25.733161507, 15), (24.116580754, 17.8), (20.883419246, 17.8), (19.266838493, 15), (20.883419246, 12.2), (24.116580754, 12.2), align=None)
        Polygon((-24.116580754, 12.2), (-25.733161507, 15), (-24.116580754, 17.8), (-20.883419246, 17.8), (-19.266838493, 15), (-20.883419246, 12.2), align=None)
        Polygon((-25.733161507, -15), (-24.116580754, -17.8), (-20.883419246, -17.8), (-19.266838493, -15), (-20.883419246, -12.2), (-24.116580754, -12.2), align=None)
        Polygon((24.116580754, -12.2), (25.733161507, -15), (24.116580754, -17.8), (20.883419246, -17.8), (19.266838493, -15), (20.883419246, -12.2), align=None)
    extrude(amount=CUT_EXTRUDE2_DEPTH + CUT_EXTRUDE2_DEPTH_BACK, mode=Mode.SUBTRACT)

    # Sketch9 → Boss-Extrude6 (add)
    with BuildSketch(Plane.XY.offset(42.3)):
        with Locations((0, 12.5)):
            Rectangle(SKETCH9_W, SKETCH9_H)
    extrude(amount=BOSS_EXTRUDE6_DEPTH)

    # Sketch11 → Boss-Extrude7 (add)
    with BuildSketch(Plane(origin=(0, 5.25, 0), x_dir=(1, 0, 0), z_dir=(0, 1, 0))):
        with BuildLine():
            Line((-25, -142.3), (-25, -107.3))
            Line((-25, -107.3), (25, -107.3))
            Line((25, -107.3), (25, -142.3))
            ThreePointArc((25, -142.3), (0, -167.3), (-25, -142.3))
        make_face()
        with BuildLine():
            Line((-3.75, -135.8), (-2.47446787, -126.943617116))
            ThreePointArc((-2.47446787, -126.943617116), (0, -124.8), (2.47446787, -126.943617116))
            Line((2.47446787, -126.943617116), (3.75, -135.8))
            Line((3.75, -135.8), (3.754165125, -135.802404736))
            Line((3.754165125, -135.802404736), (12.061783753, -132.478856522))
            ThreePointArc((12.061783753, -132.478856522), (15.155444566, -133.55), (14.536251623, -136.764760594))
            Line((14.536251623, -136.764760594), (7.504165125, -142.297595264))
            Line((7.504165125, -142.297595264), (7.504165125, -142.302404736))
            Line((7.504165125, -142.302404736), (14.536251623, -147.835239406))
            ThreePointArc((14.536251623, -147.835239406), (15.155444566, -151.05), (12.061783753, -152.121143478))
            Line((12.061783753, -152.121143478), (3.754165125, -148.797595264))
            Line((3.754165125, -148.797595264), (3.75, -148.8))
            Line((3.75, -148.8), (2.47446787, -157.656382884))
            ThreePointArc((2.47446787, -157.656382884), (0, -159.8), (-2.47446787, -157.656382884))
            Line((-2.47446787, -157.656382884), (-3.75, -148.8))
            Line((-3.75, -148.8), (-3.754165125, -148.797595264))
            Line((-3.754165125, -148.797595264), (-12.061783753, -152.121143478))
            ThreePointArc((-12.061783753, -152.121143478), (-15.155444566, -151.05), (-14.536251623, -147.835239406))
            Line((-14.536251623, -147.835239406), (-7.504165125, -142.302404736))
            Line((-7.504165125, -142.302404736), (-7.504165125, -142.297595264))
            Line((-7.504165125, -142.297595264), (-14.536251623, -136.764760594))
            ThreePointArc((-14.536251623, -136.764760594), (-15.155444566, -133.55), (-12.061783753, -132.478856522))
            Line((-12.061783753, -132.478856522), (-3.754165125, -135.802404736))
            Line((-3.754165125, -135.802404736), (-3.75, -135.8))
        make_face(mode=Mode.SUBTRACT)
    extrude(amount=BOSS_EXTRUDE7_DEPTH)

    # Sketch12 → Boss-Extrude8 (add)
    with BuildSketch(Plane(origin=(0, 12.5, 0), x_dir=(1, 0, 0), z_dir=(0, 1, 0))):
        with BuildLine():
            Line((-25, -142.3), (-25, -107.3))
            Line((-25, -107.3), (25, -107.3))
            Line((25, -107.3), (25, -142.3))
            ThreePointArc((25, -142.3), (0, -167.3), (-25, -142.3))
        make_face()
        with Locations(Location((0, -142.3, 0), (0, 0, 90))):
            Circle(SKETCH12_R, mode=Mode.SUBTRACT)
    extrude(amount=BOSS_EXTRUDE8_DEPTH)

    # Sketch13 wall → Rib1 (add, up to next)
    with BuildSketch(Plane(origin=(27.575, 12.5, 74.8), x_dir=(-0.078983247825, 0, 0.996875943417), z_dir=(0.996875943417, 0, 0.078983247825)), mode=Mode.PRIVATE) as rib1_sk1:
        Rectangle(SKETCH13_WALL_W, SKETCH13_WALL_H)
    rib1_tool1 = extrude(rib1_sk1.sketch, amount=-RIB1_REACH, mode=Mode.PRIVATE) - part.part
    add(rib1_tool1.solids().sort_by_distance((27.575, 12.5, 74.8))[0])

    # Sketch14 wall → Rib2 (add, up to next)
    with BuildSketch(Plane(origin=(-27.575, 12.5, 74.8), x_dir=(0.078983247825, 0, 0.996875943417), z_dir=(0.996875943417, 0, -0.078983247825)), mode=Mode.PRIVATE) as rib2_sk1:
        Rectangle(SKETCH14_WALL_W, SKETCH14_WALL_H)
    rib2_tool1 = extrude(rib2_sk1.sketch, amount=RIB2_REACH, mode=Mode.PRIVATE) - part.part
    add(rib2_tool1.solids().sort_by_distance((-27.575, 12.5, 74.8))[0])

    # Fillet2
    fillet2_edges = [part.edges().sort_by_distance(p)[0] for p in [
        (-21.325, 25, 42.3),
        (-21.325, 0, 42.3),
        (21.325, 25, 42.3),
        (-12.5, 25, 74.8),
        (-12.5, 0, 74.8),
        (12.5, 0, 74.8),
        (12.5, 25, 74.8),
        (0, 0, 107.3),
        (0, 25, 107.3),
        (21.325, 0, 42.3),
    ]]
    fillet(fillet2_edges, radius=FILLET2_R)

    # Fillet3
    fillet3_edges = [part.edges().sort_by_distance(p)[0] for p in [
        (21.325, 5.25, 42.3),
        (12.5, 5.25, 74.8),
        (12.5, 19.75, 74.8),
        (21.325, 19.75, 42.3),
        (-12.5, 19.75, 74.8),
        (-21.325, 5.25, 42.3),
        (-12.5, 5.25, 74.8),
        (-21.325, 19.75, 42.3),
    ]]
    fillet(fillet3_edges, radius=FILLET3_R)


solid = part.part
